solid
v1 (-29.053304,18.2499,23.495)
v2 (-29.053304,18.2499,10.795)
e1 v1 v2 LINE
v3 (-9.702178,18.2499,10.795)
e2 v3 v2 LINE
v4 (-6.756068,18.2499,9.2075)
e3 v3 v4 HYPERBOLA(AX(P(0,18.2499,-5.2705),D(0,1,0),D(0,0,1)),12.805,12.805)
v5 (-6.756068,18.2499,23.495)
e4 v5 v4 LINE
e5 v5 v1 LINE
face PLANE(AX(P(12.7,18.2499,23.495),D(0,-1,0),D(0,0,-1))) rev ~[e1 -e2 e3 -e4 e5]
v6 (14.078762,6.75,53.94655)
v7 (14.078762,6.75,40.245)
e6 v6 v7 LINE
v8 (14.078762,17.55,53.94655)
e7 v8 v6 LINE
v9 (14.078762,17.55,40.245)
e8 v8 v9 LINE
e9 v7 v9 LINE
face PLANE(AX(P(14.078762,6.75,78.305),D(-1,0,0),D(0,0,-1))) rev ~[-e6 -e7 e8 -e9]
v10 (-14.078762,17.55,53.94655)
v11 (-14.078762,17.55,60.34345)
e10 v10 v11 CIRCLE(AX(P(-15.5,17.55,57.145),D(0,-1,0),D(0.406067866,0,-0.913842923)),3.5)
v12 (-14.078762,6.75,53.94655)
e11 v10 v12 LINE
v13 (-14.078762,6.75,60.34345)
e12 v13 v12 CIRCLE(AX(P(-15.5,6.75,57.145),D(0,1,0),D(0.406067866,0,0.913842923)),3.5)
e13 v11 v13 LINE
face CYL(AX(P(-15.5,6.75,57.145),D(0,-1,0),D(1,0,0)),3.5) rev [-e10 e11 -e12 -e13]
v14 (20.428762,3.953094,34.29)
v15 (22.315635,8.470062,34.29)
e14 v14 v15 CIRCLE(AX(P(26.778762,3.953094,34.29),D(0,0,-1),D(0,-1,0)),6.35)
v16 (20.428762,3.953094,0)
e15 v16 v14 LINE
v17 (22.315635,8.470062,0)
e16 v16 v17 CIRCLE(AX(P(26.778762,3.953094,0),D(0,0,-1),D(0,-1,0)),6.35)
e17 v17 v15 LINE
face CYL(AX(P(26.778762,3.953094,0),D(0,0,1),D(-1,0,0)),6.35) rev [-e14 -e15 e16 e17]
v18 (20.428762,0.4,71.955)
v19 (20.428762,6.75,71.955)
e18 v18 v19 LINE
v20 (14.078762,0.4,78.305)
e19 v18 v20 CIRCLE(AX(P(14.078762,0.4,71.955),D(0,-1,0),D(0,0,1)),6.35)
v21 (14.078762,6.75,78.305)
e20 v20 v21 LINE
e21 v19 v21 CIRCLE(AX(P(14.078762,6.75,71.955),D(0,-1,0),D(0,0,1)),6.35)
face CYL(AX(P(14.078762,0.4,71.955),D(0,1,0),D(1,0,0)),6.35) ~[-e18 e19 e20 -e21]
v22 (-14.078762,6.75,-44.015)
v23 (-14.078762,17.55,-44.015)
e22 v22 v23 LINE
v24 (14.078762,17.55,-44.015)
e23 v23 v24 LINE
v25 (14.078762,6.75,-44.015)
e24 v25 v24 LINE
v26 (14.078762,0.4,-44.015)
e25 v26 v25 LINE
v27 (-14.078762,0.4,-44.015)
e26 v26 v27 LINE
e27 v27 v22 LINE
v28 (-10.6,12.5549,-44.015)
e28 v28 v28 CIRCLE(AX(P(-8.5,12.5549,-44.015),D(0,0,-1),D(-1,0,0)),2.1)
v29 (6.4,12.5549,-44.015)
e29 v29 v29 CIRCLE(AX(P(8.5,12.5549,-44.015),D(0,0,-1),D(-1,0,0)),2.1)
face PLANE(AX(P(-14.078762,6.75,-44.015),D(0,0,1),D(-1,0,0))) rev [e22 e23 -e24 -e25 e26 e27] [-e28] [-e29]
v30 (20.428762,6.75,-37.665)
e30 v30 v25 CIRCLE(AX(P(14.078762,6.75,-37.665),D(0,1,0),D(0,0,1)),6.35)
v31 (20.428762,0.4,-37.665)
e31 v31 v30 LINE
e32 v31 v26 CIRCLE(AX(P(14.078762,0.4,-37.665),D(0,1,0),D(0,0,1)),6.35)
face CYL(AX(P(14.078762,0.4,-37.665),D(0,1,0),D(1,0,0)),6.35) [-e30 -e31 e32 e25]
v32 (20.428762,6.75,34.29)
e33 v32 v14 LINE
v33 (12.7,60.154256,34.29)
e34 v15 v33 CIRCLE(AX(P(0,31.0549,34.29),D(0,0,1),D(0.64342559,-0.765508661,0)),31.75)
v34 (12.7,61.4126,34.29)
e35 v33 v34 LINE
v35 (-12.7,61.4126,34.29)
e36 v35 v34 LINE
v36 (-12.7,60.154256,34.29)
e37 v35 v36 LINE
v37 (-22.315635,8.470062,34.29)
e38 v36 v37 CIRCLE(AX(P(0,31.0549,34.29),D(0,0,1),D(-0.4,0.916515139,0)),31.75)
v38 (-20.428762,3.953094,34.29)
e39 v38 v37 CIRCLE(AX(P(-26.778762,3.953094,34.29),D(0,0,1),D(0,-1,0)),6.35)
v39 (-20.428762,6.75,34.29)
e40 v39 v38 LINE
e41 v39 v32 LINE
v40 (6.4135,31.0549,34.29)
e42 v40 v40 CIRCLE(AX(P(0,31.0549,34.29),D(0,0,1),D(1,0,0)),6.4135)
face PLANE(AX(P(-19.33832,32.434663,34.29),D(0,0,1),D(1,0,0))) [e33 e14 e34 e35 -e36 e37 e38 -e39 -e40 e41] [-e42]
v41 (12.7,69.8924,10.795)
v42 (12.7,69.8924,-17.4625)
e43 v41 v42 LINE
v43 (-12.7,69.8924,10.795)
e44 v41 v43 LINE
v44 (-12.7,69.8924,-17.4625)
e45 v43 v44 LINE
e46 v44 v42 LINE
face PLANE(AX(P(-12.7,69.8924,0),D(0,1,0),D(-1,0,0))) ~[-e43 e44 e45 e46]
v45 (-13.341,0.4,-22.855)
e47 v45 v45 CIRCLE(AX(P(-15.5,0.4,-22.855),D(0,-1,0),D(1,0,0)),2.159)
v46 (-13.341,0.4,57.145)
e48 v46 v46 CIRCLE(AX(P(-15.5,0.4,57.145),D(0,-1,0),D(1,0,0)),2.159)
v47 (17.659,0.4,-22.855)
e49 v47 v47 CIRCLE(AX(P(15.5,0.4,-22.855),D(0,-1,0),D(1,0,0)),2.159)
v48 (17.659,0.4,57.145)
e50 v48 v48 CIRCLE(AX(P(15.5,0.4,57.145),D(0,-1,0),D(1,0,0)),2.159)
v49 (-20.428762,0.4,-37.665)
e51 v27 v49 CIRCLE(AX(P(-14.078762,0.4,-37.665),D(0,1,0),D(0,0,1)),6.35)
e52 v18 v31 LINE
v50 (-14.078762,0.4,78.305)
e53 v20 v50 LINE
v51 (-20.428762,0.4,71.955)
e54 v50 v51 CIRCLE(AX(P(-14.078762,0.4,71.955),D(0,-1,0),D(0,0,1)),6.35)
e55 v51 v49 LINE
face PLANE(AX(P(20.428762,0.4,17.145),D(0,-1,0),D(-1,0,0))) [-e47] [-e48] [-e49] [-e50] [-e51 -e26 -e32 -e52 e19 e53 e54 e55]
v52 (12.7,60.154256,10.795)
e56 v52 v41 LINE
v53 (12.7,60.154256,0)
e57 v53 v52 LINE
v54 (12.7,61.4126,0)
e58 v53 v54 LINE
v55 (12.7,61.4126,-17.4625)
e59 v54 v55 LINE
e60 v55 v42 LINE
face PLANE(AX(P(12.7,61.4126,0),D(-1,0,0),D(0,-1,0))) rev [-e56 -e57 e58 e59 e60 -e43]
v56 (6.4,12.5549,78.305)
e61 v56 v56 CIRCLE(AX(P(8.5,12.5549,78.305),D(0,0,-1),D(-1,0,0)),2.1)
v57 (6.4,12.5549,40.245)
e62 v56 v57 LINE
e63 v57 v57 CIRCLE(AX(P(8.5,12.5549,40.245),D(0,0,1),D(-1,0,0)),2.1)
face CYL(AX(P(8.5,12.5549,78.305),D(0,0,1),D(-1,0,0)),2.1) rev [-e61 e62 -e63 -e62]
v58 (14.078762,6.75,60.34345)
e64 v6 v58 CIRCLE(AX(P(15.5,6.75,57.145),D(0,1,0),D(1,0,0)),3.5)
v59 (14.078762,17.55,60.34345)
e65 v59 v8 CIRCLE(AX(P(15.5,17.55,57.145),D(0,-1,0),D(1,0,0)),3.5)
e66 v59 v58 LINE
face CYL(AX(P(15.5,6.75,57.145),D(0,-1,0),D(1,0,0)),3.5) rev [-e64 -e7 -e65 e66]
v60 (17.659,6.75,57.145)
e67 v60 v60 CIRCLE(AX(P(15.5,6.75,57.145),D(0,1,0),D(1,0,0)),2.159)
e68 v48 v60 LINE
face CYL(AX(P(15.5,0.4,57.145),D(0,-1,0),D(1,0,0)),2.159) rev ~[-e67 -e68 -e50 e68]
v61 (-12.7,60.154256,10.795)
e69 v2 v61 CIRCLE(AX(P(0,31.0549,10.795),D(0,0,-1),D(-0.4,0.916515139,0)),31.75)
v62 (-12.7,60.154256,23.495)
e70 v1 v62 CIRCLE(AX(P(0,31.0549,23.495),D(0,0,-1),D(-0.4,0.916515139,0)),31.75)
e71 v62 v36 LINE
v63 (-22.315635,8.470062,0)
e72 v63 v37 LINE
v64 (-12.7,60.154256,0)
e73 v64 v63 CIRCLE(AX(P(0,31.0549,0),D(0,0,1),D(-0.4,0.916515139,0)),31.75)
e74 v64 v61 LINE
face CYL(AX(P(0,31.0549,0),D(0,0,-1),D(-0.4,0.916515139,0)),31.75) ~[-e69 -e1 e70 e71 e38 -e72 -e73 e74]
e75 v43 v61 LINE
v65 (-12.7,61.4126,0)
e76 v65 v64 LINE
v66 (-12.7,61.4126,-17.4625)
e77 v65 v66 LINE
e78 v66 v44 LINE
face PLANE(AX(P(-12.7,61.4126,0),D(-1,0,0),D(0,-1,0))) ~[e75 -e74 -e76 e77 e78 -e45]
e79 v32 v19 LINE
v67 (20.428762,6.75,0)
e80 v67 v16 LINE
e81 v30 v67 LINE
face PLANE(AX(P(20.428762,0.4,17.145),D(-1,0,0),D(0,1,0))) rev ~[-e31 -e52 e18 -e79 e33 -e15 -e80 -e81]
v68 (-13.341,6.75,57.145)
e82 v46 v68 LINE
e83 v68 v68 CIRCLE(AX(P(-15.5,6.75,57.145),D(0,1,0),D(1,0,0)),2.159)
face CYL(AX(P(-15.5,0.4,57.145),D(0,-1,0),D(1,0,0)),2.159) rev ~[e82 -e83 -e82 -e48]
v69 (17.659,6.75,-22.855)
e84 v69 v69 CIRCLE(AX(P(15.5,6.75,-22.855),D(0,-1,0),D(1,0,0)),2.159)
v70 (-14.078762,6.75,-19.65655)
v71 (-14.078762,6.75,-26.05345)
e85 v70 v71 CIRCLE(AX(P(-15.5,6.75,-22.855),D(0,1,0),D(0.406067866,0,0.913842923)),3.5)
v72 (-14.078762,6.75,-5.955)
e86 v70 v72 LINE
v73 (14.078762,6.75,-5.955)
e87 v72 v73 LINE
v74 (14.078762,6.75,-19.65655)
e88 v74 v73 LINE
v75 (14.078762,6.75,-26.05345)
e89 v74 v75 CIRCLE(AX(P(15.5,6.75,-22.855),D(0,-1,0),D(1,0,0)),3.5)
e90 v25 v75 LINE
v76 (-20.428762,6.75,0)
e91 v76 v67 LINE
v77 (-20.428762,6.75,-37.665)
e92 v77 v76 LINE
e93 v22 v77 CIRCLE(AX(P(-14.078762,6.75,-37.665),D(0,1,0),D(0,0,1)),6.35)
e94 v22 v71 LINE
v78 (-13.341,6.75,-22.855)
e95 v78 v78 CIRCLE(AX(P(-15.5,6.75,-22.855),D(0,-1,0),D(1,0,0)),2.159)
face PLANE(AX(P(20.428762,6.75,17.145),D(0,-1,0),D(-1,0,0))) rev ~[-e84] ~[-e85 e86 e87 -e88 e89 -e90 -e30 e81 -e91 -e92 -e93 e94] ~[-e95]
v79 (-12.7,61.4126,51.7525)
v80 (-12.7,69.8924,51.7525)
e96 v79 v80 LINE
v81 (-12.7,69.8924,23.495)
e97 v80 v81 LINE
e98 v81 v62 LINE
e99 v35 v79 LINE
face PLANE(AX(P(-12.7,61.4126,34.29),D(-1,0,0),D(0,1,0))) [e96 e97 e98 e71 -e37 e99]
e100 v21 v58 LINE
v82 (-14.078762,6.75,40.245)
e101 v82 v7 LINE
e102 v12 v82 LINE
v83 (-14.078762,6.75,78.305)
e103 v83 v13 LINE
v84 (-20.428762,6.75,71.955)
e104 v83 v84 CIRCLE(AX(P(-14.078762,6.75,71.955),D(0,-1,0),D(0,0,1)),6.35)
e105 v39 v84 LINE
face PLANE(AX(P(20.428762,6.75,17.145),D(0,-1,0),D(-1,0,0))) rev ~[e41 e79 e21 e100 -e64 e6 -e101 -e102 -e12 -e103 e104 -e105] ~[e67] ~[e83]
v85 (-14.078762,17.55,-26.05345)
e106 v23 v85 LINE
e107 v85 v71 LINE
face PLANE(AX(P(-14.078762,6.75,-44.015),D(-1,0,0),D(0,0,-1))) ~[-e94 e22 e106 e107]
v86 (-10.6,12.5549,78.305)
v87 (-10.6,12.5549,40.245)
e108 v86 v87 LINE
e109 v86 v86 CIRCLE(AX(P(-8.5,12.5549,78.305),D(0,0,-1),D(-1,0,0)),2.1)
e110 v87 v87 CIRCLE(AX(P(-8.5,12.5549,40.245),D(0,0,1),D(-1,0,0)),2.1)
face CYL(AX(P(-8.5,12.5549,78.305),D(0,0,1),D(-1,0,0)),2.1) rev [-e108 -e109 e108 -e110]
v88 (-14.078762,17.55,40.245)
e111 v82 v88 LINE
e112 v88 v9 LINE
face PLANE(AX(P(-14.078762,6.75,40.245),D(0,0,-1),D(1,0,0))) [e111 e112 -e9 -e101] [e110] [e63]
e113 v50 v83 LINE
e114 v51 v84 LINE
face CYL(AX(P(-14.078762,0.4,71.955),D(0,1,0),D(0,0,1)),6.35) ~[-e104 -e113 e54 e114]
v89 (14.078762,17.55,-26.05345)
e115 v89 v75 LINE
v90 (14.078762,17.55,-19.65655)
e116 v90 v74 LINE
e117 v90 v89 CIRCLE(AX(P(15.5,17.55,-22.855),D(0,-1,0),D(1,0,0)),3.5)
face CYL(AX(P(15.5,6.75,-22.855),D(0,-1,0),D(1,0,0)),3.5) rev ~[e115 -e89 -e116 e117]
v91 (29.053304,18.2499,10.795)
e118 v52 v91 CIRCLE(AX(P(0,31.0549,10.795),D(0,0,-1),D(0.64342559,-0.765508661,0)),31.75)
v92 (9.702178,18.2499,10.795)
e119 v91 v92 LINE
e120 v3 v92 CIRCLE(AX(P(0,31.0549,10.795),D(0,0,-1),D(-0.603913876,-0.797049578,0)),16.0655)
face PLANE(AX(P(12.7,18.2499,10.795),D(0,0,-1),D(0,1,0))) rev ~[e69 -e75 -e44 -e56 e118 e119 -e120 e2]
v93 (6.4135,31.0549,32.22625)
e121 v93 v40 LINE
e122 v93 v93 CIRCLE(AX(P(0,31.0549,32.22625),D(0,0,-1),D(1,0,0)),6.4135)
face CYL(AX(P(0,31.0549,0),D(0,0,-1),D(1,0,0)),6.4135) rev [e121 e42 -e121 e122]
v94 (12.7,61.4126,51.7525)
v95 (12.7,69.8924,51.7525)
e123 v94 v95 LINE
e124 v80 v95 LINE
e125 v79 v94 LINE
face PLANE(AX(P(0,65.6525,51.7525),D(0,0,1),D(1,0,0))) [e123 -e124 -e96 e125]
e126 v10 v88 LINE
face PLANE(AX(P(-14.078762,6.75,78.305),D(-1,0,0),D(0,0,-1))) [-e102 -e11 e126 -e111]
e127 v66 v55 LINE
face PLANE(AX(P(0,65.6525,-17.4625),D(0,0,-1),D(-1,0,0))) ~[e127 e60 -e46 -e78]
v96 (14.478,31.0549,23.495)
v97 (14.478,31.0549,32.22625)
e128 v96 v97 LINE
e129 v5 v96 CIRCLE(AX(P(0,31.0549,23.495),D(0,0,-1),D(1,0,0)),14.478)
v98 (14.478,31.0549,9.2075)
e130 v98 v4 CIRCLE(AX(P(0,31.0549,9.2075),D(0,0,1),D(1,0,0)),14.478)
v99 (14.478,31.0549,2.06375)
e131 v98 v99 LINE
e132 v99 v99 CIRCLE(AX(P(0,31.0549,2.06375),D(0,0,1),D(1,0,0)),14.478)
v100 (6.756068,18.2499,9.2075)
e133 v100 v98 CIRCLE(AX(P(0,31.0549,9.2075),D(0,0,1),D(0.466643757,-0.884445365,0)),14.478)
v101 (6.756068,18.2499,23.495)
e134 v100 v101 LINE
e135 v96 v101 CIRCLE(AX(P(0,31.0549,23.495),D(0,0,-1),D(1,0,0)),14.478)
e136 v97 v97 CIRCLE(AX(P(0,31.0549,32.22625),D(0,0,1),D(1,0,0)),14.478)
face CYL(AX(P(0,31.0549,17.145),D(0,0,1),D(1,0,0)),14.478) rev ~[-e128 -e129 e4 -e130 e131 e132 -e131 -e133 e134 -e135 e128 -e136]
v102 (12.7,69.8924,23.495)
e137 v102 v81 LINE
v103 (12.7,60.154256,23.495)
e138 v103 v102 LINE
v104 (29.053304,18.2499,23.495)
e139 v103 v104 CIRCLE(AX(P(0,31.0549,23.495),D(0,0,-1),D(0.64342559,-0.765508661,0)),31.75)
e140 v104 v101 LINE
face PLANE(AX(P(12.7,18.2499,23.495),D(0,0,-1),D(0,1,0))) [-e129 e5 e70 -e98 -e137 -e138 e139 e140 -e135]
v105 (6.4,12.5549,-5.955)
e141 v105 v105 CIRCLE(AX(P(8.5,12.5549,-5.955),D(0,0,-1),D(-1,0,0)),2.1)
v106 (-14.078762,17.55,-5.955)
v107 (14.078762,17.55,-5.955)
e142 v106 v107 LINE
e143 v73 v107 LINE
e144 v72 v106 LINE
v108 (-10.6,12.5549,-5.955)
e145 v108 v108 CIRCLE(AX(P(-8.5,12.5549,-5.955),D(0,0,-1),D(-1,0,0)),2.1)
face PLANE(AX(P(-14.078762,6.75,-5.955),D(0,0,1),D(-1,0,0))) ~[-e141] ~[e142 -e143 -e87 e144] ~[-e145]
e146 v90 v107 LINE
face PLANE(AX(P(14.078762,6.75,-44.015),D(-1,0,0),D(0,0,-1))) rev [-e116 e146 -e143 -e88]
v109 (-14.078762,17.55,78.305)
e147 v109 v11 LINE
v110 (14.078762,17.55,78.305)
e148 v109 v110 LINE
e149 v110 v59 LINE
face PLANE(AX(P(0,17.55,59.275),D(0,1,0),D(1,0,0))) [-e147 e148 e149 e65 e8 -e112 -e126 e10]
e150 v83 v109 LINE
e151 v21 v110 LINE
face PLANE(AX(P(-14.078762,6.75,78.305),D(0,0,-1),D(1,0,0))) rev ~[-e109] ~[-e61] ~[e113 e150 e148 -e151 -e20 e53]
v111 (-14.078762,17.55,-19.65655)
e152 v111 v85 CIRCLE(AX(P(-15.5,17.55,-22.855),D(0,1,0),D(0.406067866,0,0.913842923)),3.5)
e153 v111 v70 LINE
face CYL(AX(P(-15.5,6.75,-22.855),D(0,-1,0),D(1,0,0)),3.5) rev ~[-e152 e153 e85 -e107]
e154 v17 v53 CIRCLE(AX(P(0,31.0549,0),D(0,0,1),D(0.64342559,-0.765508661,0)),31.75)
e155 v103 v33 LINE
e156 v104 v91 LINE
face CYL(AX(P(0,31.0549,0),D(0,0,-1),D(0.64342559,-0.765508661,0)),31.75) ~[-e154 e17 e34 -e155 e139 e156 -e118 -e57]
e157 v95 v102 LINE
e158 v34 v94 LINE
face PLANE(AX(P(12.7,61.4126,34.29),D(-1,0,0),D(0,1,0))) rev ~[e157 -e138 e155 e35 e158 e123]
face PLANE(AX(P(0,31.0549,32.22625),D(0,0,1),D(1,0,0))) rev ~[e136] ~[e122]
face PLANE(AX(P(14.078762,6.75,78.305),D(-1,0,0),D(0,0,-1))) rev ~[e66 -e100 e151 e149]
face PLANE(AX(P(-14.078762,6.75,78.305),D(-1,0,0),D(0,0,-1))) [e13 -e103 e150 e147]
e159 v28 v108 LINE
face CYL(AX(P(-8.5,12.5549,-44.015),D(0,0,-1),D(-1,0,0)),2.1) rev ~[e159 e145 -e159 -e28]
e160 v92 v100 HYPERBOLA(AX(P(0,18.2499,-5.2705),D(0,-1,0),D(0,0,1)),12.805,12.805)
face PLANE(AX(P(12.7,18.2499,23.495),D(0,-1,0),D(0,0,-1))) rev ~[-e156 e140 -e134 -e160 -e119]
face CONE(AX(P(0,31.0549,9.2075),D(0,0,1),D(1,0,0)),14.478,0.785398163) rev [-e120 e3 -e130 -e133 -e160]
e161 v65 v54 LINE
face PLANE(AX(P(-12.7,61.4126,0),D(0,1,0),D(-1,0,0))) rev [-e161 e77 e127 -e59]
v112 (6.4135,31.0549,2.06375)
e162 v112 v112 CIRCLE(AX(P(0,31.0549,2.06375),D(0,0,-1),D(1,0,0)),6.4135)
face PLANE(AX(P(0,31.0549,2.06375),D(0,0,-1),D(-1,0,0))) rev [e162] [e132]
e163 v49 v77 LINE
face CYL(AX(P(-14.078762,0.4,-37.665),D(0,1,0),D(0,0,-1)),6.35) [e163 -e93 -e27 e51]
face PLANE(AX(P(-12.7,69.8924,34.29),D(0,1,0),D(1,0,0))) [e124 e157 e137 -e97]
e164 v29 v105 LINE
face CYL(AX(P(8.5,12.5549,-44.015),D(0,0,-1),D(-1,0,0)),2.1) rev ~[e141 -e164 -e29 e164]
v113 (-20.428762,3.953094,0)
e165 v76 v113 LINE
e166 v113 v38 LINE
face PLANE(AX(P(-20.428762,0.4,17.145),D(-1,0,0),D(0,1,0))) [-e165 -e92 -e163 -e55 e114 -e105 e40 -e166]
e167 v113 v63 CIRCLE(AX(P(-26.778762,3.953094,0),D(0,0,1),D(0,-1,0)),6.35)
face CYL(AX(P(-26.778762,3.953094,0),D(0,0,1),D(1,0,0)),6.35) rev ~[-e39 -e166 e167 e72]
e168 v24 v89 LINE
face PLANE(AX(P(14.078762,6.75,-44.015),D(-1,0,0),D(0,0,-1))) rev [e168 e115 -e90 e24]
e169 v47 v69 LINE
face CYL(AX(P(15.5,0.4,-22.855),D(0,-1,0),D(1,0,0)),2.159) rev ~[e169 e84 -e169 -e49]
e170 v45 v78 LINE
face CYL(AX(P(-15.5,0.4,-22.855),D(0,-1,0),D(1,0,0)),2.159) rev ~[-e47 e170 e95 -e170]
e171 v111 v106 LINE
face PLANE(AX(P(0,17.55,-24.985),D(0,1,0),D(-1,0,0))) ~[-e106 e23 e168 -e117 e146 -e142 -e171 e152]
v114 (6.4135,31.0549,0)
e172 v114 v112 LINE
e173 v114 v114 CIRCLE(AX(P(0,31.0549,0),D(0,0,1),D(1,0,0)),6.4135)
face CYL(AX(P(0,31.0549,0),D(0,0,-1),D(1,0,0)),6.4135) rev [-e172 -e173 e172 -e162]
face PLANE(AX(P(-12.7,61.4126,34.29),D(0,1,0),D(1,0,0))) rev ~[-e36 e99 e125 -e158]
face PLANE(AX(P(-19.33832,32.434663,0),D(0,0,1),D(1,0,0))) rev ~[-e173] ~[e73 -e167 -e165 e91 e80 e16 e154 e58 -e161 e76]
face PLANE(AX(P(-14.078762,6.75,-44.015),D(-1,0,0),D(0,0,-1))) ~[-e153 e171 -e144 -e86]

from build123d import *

# Parameters (mm, degrees)
SKETCH1_R                      = 6.4135
BOSS_EXTRUDE1_DEPTH            = 34.29
CUT_EXTRUDE1_REACH             = 100.106
SKETCH3_W                      = 12.7
SKETCH3_H                      = 51.6425
CUT_EXTRUDE1_DIRECTION_2_REACH = 100.106
SKETCH5_R                      = 2.159
CUT_EXTRUDE2_DEPTH             = 86.858993575
SKETCH6_W                      = 25.4
SKETCH6_H                      = 8.47980016
BOSS_EXTRUDE2_DEPTH            = 17.4625
CUT_EXTRUDE9_START             = -6.35
SKETCH12_R                     = 14.478
CUT_EXTRUDE9_DEPTH             = 15.08125
FILLET4_R                      = 6.35
CHAMFER1_SIZE                  = 1.5875
CUT_EXTRUDE13_DEPTH            = 95.203417847
SKETCH16_W                     = 40.857524936
SKETCH16_H                     = 6.35
BOSS_EXTRUDE3_DEPTH            = 61.16
SKETCH17_R                     = 2.159
CUT_EXTRUDE14_DEPTH            = 6.35
FILLET5_R                      = 6.35
SKETCH18_W                     = 28.157524936
SKETCH18_H                     = 38.06
BOSS_EXTRUDE4_DEPTH            = 10.8
SKETCH19_R                     = 2.1
CUT_EXTRUDE15_DEPTH            = 40
SKETCH21_R                     = 3.5
CUT_EXTRUDE16_DEPTH            = 11
SKETCH22_R                     = 3.5
CUT_EXTRUDE17_DEPTH            = 11


with BuildPart() as part:
    # Sketch1 → Boss-Extrude1 (new body)
    # profile 1 of 3: a face of its own
    with BuildSketch(Plane.XY):
        with BuildLine():
            Line((12.7, 6.75), (20.428762468, 6.75))
            ThreePointArc((20.428762468, 6.75), (31.422640825, 35.602442589), (12.7, 60.154255663))
            Line((12.7, 60.154255663), (12.7, 6.75))
        make_face()
    # profile 2 of 3: a face of its own
    with BuildSketch(Plane.XY):
        Polygon((-47, 0.4), (-10.625, 0.4), (10.625, 0.4), (47, 0.4), (47, 6.75), (12.7, 6.75), (12.7, 69.8924), (-12.7, 69.8924), (-12.7, 6.75), (-47, 6.75), align=None)
        with Locations((0, 31.0549)):
            Circle(SKETCH1_R, mode=Mode.SUBTRACT)
    # profile 3 of 3: a face of its own
    with BuildSketch(Plane.XY):
        with BuildLine():
            ThreePointArc((-12.7, 60.154255663), (-31.422640825, 35.602442589), (-20.428762468, 6.75))
            Line((-20.428762468, 6.75), (-12.7, 6.75))
            Line((-12.7, 6.75), (-12.7, 60.154255663))
        make_face()
    extrude(amount=BOSS_EXTRUDE1_DEPTH)

    # Sketch3 → Cut-Extrude1 (cut, up to next)
    with BuildSketch(Plane(origin=(12.7, 0, 0), x_dir=(0, 0, -1), z_dir=(1, 0, 0)), mode=Mode.PRIVATE) as cut_extrude1_sk1:
        with Locations((-17.145, 44.07115)):
            Rectangle(SKETCH3_W, SKETCH3_H)
    cut_extrude1_tool1 = extrude(cut_extrude1_sk1.sketch, amount=-CUT_EXTRUDE1_REACH, mode=Mode.PRIVATE) & part.part
    add(cut_extrude1_tool1.solids().sort_by_distance((12.7, 44.07115, 17.145))[0], mode=Mode.SUBTRACT)

    # Sketch3 → Cut-Extrude1 direction 2 (cut, up to next)
    with BuildSketch(Plane(origin=(12.7, 0, 0), x_dir=(0, 0, -1), z_dir=(1, 0, 0)), mode=Mode.PRIVATE) as cut_extrude1_direction_2_sk1:
        with Locations((-17.145, 44.07115)):
            Rectangle(SKETCH3_W, SKETCH3_H)
    cut_extrude1_direction_2_tool1 = extrude(cut_extrude1_direction_2_sk1.sketch, amount=CUT_EXTRUDE1_DIRECTION_2_REACH, mode=Mode.PRIVATE) & part.part
    add(cut_extrude1_direction_2_tool1.solids().sort_by_distance((12.7, 44.07115, 17.145))[0], mode=Mode.SUBTRACT)

    # Sketch5 → Cut-Extrude2 (cut, through all)
    with BuildSketch(Plane(origin=(0, 6.75, 0), x_dir=(1, 0, 0), z_dir=(0, 1, 0))):
        with Locations(Location((40, -27.94, 0), (0, 0, 180))):
            Circle(SKETCH5_R)
        with Locations(Location((40, -6.35, 0), (0, 0, 180))):
            Circle(SKETCH5_R)
        with Locations(Location((-40, -6.35, 0), (0, 0, 180))):
            Circle(SKETCH5_R)
        with Locations(Location((-40, -27.94, 0), (0, 0, 180))):
            Circle(SKETCH5_R)
    extrude(amount=-CUT_EXTRUDE2_DEPTH, mode=Mode.SUBTRACT)

    # Sketch6 → Boss-Extrude2 (add)
    with BuildSketch(Plane.XY.offset(34.29)):
        with Locations((0, 65.65249992)):
            Rectangle(SKETCH6_W, SKETCH6_H)
    boss_extrude2 = extrude(amount=BOSS_EXTRUDE2_DEPTH)

    # Sketch12 → Cut-Extrude9 (cut)
    with BuildSketch(Plane.XY.offset(23.495).offset(CUT_EXTRUDE9_START)):
        with Locations((0, 31.0549)):
            Circle(SKETCH12_R)
    cut_extrude9 = extrude(amount=CUT_EXTRUDE9_DEPTH, mode=Mode.SUBTRACT)

    # Mirror4: Boss-Extrude2, Cut-Extrude9 across plane
    add(boss_extrude2.mirror(Plane(origin=(0, 0, 17.145), x_dir=(1, 0, 0), z_dir=(0, 0, -1))))
    add(cut_extrude9.mirror(Plane(origin=(0, 0, 17.145), x_dir=(1, 0, 0), z_dir=(0, 0, -1))), mode=Mode.SUBTRACT)

    # Fillet4
    fillet4_edges = [part.edges().sort_by_distance(p)[0] for p in [
        (47, 3.575, 0),
        (-47, 3.575, 0),
        (-47, 3.575, 34.29),
        (47, 3.575, 34.29),
    ]]
    fillet(fillet4_edges, radius=FILLET4_R)

    # Chamfer1
    chamfer1_edges = [part.edges().sort_by_distance(p)[0] for p in [
        (-7.476567629, 43.453021652, 10.795),
    ]]
    chamfer(chamfer1_edges, length=CHAMFER1_SIZE)

    # Sketch15 → Cut-Extrude13 (cut, through all)
    with BuildSketch(Plane(origin=(0, 6.75, 0), x_dir=(1, 0, 0), z_dir=(0, 1, 0))):
        with BuildLine():
            Line((20.428762468, 1.013392391), (20.428762468, -35.303392391))
            ThreePointArc((20.428762468, -35.303392391), (22.863261605, -34.54592678), (25.4, -34.29))
            Line((25.4, -34.29), (40.65, -34.29))
            ThreePointArc((40.65, -34.29), (45.140128061, -32.430128061), (47, -27.94))
            Line((47, -27.94), (47, -6.35))
            ThreePointArc((47, -6.35), (45.140128061, -1.859871939), (40.65, 0))
            Line((40.65, 0), (25.4, 0))
            ThreePointArc((25.4, 0), (22.863261605, 0.25592678), (20.428762468, 1.013392391))
        make_face()
        with BuildLine():
            Line((-40.65, 0), (-25.4, 0))
            ThreePointArc((-25.4, 0), (-22.863261605, 0.25592678), (-20.428762468, 1.013392391))
            Line((-20.428762468, 1.013392391), (-20.428762468, -35.303392391))
            ThreePointArc((-20.428762468, -35.303392391), (-22.863261605, -34.54592678), (-25.4, -34.29))
            Line((-25.4, -34.29), (-40.65, -34.29))
            ThreePointArc((-40.65, -34.29), (-45.140128061, -32.430128061), (-47, -27.94))
            Line((-47, -27.94), (-47, -6.35))
            ThreePointArc((-47, -6.35), (-45.140128061, -1.859871939), (-40.65, 0))
        make_face()
    extrude(amount=-CUT_EXTRUDE13_DEPTH, mode=Mode.SUBTRACT)

    # Sketch16 → Boss-Extrude3 (add, symmetric)
    with BuildSketch(Plane(origin=(0, 0, 17.145), x_dir=(-1, 0, 0), z_dir=(0, 0, -1))):
        with Locations((0, 3.575)):
            Rectangle(SKETCH16_W, SKETCH16_H)
    extrude(amount=BOSS_EXTRUDE3_DEPTH, both=True)

    # Sketch17 → Cut-Extrude14 (cut)
    with BuildSketch(Plane.XZ.offset(-0.4)):
        with Locations((15.5, 57.145)):
            Circle(SKETCH17_R)
        with Locations((-15.5, 57.145)):
            Circle(SKETCH17_R)
        with Locations((15.5, -22.855)):
            Circle(SKETCH17_R)
        with Locations((-15.5, -22.855)):
            Circle(SKETCH17_R)
    extrude(amount=-CUT_EXTRUDE14_DEPTH, mode=Mode.SUBTRACT)

    # Fillet5
    fillet5_edges = [part.edges().sort_by_distance(p)[0] for p in [
        (-20.428762468, 6.75, 17.145),
        (20.428762468, 6.75, 17.145),
        (-20.428762468, 3.575, -44.015),
        (20.428762468, 3.575, -44.015),
        (-20.428762468, 3.575, 78.305),
        (20.428762468, 3.575, 78.305),
    ]]
    fillet(fillet5_edges, radius=FILLET5_R)

    # Sketch18 → Boss-Extrude4 (add)
    with BuildSketch(Plane(origin=(0, 6.75, 0), x_dir=(1, 0, 0), z_dir=(0, 1, 0))):
        with Locations((0, -59.275)):
            Rectangle(SKETCH18_W, SKETCH18_H)
    boss_extrude4 = extrude(amount=BOSS_EXTRUDE4_DEPTH)

    # Mirror5: Boss-Extrude4 across plane
    add(boss_extrude4.mirror(Plane(origin=(0, 0, 17.145), x_dir=(1, 0, 0), z_dir=(0, 0, -1))))

    # Sketch19 → Cut-Extrude15 (cut)
    with BuildSketch(Plane(origin=(0, 0, -44.015), x_dir=(-1, 0, 0), z_dir=(0, 0, -1))):
        with Locations((8.5, 12.5549)):
            Circle(SKETCH19_R)
        with Locations((-8.5, 12.5549)):
            Circle(SKETCH19_R)
    cut_extrude15 = extrude(amount=-CUT_EXTRUDE15_DEPTH, mode=Mode.SUBTRACT)

    # Mirror6: Cut-Extrude15 across plane
    add(cut_extrude15.mirror(Plane(origin=(0, 0, 17.145), x_dir=(1, 0, 0), z_dir=(0, 0, -1))), mode=Mode.SUBTRACT)

    # Sketch21 → Cut-Extrude16 (cut)
    with BuildSketch(Plane(origin=(0, 6.75, 0), x_dir=(1, 0, 0), z_dir=(0, 1, 0))):
        with Locations((15.5, -57.145)):
            Circle(SKETCH21_R)
    cut_extrude16 = extrude(amount=CUT_EXTRUDE16_DEPTH, mode=Mode.SUBTRACT)

    # Sketch22 → Cut-Extrude17 (cut)
    with BuildSketch(Plane(origin=(0, 6.75, 0), x_dir=(1, 0, 0), z_dir=(0, 1, 0))):
        with Locations((-15.5, -57.145)):
            Circle(SKETCH22_R)
    cut_extrude17 = extrude(amount=CUT_EXTRUDE17_DEPTH, mode=Mode.SUBTRACT)

    # Mirror7: Cut-Extrude16, Cut-Extrude17 across plane
    add(cut_extrude16.mirror(Plane(origin=(0, 0, 17.145), x_dir=(1, 0, 0), z_dir=(0, 0, -1))), mode=Mode.SUBTRACT)
    add(cut_extrude17.mirror(Plane(origin=(0, 0, 17.145), x_dir=(1, 0, 0), z_dir=(0, 0, -1))), mode=Mode.SUBTRACT)


solid = part.part
